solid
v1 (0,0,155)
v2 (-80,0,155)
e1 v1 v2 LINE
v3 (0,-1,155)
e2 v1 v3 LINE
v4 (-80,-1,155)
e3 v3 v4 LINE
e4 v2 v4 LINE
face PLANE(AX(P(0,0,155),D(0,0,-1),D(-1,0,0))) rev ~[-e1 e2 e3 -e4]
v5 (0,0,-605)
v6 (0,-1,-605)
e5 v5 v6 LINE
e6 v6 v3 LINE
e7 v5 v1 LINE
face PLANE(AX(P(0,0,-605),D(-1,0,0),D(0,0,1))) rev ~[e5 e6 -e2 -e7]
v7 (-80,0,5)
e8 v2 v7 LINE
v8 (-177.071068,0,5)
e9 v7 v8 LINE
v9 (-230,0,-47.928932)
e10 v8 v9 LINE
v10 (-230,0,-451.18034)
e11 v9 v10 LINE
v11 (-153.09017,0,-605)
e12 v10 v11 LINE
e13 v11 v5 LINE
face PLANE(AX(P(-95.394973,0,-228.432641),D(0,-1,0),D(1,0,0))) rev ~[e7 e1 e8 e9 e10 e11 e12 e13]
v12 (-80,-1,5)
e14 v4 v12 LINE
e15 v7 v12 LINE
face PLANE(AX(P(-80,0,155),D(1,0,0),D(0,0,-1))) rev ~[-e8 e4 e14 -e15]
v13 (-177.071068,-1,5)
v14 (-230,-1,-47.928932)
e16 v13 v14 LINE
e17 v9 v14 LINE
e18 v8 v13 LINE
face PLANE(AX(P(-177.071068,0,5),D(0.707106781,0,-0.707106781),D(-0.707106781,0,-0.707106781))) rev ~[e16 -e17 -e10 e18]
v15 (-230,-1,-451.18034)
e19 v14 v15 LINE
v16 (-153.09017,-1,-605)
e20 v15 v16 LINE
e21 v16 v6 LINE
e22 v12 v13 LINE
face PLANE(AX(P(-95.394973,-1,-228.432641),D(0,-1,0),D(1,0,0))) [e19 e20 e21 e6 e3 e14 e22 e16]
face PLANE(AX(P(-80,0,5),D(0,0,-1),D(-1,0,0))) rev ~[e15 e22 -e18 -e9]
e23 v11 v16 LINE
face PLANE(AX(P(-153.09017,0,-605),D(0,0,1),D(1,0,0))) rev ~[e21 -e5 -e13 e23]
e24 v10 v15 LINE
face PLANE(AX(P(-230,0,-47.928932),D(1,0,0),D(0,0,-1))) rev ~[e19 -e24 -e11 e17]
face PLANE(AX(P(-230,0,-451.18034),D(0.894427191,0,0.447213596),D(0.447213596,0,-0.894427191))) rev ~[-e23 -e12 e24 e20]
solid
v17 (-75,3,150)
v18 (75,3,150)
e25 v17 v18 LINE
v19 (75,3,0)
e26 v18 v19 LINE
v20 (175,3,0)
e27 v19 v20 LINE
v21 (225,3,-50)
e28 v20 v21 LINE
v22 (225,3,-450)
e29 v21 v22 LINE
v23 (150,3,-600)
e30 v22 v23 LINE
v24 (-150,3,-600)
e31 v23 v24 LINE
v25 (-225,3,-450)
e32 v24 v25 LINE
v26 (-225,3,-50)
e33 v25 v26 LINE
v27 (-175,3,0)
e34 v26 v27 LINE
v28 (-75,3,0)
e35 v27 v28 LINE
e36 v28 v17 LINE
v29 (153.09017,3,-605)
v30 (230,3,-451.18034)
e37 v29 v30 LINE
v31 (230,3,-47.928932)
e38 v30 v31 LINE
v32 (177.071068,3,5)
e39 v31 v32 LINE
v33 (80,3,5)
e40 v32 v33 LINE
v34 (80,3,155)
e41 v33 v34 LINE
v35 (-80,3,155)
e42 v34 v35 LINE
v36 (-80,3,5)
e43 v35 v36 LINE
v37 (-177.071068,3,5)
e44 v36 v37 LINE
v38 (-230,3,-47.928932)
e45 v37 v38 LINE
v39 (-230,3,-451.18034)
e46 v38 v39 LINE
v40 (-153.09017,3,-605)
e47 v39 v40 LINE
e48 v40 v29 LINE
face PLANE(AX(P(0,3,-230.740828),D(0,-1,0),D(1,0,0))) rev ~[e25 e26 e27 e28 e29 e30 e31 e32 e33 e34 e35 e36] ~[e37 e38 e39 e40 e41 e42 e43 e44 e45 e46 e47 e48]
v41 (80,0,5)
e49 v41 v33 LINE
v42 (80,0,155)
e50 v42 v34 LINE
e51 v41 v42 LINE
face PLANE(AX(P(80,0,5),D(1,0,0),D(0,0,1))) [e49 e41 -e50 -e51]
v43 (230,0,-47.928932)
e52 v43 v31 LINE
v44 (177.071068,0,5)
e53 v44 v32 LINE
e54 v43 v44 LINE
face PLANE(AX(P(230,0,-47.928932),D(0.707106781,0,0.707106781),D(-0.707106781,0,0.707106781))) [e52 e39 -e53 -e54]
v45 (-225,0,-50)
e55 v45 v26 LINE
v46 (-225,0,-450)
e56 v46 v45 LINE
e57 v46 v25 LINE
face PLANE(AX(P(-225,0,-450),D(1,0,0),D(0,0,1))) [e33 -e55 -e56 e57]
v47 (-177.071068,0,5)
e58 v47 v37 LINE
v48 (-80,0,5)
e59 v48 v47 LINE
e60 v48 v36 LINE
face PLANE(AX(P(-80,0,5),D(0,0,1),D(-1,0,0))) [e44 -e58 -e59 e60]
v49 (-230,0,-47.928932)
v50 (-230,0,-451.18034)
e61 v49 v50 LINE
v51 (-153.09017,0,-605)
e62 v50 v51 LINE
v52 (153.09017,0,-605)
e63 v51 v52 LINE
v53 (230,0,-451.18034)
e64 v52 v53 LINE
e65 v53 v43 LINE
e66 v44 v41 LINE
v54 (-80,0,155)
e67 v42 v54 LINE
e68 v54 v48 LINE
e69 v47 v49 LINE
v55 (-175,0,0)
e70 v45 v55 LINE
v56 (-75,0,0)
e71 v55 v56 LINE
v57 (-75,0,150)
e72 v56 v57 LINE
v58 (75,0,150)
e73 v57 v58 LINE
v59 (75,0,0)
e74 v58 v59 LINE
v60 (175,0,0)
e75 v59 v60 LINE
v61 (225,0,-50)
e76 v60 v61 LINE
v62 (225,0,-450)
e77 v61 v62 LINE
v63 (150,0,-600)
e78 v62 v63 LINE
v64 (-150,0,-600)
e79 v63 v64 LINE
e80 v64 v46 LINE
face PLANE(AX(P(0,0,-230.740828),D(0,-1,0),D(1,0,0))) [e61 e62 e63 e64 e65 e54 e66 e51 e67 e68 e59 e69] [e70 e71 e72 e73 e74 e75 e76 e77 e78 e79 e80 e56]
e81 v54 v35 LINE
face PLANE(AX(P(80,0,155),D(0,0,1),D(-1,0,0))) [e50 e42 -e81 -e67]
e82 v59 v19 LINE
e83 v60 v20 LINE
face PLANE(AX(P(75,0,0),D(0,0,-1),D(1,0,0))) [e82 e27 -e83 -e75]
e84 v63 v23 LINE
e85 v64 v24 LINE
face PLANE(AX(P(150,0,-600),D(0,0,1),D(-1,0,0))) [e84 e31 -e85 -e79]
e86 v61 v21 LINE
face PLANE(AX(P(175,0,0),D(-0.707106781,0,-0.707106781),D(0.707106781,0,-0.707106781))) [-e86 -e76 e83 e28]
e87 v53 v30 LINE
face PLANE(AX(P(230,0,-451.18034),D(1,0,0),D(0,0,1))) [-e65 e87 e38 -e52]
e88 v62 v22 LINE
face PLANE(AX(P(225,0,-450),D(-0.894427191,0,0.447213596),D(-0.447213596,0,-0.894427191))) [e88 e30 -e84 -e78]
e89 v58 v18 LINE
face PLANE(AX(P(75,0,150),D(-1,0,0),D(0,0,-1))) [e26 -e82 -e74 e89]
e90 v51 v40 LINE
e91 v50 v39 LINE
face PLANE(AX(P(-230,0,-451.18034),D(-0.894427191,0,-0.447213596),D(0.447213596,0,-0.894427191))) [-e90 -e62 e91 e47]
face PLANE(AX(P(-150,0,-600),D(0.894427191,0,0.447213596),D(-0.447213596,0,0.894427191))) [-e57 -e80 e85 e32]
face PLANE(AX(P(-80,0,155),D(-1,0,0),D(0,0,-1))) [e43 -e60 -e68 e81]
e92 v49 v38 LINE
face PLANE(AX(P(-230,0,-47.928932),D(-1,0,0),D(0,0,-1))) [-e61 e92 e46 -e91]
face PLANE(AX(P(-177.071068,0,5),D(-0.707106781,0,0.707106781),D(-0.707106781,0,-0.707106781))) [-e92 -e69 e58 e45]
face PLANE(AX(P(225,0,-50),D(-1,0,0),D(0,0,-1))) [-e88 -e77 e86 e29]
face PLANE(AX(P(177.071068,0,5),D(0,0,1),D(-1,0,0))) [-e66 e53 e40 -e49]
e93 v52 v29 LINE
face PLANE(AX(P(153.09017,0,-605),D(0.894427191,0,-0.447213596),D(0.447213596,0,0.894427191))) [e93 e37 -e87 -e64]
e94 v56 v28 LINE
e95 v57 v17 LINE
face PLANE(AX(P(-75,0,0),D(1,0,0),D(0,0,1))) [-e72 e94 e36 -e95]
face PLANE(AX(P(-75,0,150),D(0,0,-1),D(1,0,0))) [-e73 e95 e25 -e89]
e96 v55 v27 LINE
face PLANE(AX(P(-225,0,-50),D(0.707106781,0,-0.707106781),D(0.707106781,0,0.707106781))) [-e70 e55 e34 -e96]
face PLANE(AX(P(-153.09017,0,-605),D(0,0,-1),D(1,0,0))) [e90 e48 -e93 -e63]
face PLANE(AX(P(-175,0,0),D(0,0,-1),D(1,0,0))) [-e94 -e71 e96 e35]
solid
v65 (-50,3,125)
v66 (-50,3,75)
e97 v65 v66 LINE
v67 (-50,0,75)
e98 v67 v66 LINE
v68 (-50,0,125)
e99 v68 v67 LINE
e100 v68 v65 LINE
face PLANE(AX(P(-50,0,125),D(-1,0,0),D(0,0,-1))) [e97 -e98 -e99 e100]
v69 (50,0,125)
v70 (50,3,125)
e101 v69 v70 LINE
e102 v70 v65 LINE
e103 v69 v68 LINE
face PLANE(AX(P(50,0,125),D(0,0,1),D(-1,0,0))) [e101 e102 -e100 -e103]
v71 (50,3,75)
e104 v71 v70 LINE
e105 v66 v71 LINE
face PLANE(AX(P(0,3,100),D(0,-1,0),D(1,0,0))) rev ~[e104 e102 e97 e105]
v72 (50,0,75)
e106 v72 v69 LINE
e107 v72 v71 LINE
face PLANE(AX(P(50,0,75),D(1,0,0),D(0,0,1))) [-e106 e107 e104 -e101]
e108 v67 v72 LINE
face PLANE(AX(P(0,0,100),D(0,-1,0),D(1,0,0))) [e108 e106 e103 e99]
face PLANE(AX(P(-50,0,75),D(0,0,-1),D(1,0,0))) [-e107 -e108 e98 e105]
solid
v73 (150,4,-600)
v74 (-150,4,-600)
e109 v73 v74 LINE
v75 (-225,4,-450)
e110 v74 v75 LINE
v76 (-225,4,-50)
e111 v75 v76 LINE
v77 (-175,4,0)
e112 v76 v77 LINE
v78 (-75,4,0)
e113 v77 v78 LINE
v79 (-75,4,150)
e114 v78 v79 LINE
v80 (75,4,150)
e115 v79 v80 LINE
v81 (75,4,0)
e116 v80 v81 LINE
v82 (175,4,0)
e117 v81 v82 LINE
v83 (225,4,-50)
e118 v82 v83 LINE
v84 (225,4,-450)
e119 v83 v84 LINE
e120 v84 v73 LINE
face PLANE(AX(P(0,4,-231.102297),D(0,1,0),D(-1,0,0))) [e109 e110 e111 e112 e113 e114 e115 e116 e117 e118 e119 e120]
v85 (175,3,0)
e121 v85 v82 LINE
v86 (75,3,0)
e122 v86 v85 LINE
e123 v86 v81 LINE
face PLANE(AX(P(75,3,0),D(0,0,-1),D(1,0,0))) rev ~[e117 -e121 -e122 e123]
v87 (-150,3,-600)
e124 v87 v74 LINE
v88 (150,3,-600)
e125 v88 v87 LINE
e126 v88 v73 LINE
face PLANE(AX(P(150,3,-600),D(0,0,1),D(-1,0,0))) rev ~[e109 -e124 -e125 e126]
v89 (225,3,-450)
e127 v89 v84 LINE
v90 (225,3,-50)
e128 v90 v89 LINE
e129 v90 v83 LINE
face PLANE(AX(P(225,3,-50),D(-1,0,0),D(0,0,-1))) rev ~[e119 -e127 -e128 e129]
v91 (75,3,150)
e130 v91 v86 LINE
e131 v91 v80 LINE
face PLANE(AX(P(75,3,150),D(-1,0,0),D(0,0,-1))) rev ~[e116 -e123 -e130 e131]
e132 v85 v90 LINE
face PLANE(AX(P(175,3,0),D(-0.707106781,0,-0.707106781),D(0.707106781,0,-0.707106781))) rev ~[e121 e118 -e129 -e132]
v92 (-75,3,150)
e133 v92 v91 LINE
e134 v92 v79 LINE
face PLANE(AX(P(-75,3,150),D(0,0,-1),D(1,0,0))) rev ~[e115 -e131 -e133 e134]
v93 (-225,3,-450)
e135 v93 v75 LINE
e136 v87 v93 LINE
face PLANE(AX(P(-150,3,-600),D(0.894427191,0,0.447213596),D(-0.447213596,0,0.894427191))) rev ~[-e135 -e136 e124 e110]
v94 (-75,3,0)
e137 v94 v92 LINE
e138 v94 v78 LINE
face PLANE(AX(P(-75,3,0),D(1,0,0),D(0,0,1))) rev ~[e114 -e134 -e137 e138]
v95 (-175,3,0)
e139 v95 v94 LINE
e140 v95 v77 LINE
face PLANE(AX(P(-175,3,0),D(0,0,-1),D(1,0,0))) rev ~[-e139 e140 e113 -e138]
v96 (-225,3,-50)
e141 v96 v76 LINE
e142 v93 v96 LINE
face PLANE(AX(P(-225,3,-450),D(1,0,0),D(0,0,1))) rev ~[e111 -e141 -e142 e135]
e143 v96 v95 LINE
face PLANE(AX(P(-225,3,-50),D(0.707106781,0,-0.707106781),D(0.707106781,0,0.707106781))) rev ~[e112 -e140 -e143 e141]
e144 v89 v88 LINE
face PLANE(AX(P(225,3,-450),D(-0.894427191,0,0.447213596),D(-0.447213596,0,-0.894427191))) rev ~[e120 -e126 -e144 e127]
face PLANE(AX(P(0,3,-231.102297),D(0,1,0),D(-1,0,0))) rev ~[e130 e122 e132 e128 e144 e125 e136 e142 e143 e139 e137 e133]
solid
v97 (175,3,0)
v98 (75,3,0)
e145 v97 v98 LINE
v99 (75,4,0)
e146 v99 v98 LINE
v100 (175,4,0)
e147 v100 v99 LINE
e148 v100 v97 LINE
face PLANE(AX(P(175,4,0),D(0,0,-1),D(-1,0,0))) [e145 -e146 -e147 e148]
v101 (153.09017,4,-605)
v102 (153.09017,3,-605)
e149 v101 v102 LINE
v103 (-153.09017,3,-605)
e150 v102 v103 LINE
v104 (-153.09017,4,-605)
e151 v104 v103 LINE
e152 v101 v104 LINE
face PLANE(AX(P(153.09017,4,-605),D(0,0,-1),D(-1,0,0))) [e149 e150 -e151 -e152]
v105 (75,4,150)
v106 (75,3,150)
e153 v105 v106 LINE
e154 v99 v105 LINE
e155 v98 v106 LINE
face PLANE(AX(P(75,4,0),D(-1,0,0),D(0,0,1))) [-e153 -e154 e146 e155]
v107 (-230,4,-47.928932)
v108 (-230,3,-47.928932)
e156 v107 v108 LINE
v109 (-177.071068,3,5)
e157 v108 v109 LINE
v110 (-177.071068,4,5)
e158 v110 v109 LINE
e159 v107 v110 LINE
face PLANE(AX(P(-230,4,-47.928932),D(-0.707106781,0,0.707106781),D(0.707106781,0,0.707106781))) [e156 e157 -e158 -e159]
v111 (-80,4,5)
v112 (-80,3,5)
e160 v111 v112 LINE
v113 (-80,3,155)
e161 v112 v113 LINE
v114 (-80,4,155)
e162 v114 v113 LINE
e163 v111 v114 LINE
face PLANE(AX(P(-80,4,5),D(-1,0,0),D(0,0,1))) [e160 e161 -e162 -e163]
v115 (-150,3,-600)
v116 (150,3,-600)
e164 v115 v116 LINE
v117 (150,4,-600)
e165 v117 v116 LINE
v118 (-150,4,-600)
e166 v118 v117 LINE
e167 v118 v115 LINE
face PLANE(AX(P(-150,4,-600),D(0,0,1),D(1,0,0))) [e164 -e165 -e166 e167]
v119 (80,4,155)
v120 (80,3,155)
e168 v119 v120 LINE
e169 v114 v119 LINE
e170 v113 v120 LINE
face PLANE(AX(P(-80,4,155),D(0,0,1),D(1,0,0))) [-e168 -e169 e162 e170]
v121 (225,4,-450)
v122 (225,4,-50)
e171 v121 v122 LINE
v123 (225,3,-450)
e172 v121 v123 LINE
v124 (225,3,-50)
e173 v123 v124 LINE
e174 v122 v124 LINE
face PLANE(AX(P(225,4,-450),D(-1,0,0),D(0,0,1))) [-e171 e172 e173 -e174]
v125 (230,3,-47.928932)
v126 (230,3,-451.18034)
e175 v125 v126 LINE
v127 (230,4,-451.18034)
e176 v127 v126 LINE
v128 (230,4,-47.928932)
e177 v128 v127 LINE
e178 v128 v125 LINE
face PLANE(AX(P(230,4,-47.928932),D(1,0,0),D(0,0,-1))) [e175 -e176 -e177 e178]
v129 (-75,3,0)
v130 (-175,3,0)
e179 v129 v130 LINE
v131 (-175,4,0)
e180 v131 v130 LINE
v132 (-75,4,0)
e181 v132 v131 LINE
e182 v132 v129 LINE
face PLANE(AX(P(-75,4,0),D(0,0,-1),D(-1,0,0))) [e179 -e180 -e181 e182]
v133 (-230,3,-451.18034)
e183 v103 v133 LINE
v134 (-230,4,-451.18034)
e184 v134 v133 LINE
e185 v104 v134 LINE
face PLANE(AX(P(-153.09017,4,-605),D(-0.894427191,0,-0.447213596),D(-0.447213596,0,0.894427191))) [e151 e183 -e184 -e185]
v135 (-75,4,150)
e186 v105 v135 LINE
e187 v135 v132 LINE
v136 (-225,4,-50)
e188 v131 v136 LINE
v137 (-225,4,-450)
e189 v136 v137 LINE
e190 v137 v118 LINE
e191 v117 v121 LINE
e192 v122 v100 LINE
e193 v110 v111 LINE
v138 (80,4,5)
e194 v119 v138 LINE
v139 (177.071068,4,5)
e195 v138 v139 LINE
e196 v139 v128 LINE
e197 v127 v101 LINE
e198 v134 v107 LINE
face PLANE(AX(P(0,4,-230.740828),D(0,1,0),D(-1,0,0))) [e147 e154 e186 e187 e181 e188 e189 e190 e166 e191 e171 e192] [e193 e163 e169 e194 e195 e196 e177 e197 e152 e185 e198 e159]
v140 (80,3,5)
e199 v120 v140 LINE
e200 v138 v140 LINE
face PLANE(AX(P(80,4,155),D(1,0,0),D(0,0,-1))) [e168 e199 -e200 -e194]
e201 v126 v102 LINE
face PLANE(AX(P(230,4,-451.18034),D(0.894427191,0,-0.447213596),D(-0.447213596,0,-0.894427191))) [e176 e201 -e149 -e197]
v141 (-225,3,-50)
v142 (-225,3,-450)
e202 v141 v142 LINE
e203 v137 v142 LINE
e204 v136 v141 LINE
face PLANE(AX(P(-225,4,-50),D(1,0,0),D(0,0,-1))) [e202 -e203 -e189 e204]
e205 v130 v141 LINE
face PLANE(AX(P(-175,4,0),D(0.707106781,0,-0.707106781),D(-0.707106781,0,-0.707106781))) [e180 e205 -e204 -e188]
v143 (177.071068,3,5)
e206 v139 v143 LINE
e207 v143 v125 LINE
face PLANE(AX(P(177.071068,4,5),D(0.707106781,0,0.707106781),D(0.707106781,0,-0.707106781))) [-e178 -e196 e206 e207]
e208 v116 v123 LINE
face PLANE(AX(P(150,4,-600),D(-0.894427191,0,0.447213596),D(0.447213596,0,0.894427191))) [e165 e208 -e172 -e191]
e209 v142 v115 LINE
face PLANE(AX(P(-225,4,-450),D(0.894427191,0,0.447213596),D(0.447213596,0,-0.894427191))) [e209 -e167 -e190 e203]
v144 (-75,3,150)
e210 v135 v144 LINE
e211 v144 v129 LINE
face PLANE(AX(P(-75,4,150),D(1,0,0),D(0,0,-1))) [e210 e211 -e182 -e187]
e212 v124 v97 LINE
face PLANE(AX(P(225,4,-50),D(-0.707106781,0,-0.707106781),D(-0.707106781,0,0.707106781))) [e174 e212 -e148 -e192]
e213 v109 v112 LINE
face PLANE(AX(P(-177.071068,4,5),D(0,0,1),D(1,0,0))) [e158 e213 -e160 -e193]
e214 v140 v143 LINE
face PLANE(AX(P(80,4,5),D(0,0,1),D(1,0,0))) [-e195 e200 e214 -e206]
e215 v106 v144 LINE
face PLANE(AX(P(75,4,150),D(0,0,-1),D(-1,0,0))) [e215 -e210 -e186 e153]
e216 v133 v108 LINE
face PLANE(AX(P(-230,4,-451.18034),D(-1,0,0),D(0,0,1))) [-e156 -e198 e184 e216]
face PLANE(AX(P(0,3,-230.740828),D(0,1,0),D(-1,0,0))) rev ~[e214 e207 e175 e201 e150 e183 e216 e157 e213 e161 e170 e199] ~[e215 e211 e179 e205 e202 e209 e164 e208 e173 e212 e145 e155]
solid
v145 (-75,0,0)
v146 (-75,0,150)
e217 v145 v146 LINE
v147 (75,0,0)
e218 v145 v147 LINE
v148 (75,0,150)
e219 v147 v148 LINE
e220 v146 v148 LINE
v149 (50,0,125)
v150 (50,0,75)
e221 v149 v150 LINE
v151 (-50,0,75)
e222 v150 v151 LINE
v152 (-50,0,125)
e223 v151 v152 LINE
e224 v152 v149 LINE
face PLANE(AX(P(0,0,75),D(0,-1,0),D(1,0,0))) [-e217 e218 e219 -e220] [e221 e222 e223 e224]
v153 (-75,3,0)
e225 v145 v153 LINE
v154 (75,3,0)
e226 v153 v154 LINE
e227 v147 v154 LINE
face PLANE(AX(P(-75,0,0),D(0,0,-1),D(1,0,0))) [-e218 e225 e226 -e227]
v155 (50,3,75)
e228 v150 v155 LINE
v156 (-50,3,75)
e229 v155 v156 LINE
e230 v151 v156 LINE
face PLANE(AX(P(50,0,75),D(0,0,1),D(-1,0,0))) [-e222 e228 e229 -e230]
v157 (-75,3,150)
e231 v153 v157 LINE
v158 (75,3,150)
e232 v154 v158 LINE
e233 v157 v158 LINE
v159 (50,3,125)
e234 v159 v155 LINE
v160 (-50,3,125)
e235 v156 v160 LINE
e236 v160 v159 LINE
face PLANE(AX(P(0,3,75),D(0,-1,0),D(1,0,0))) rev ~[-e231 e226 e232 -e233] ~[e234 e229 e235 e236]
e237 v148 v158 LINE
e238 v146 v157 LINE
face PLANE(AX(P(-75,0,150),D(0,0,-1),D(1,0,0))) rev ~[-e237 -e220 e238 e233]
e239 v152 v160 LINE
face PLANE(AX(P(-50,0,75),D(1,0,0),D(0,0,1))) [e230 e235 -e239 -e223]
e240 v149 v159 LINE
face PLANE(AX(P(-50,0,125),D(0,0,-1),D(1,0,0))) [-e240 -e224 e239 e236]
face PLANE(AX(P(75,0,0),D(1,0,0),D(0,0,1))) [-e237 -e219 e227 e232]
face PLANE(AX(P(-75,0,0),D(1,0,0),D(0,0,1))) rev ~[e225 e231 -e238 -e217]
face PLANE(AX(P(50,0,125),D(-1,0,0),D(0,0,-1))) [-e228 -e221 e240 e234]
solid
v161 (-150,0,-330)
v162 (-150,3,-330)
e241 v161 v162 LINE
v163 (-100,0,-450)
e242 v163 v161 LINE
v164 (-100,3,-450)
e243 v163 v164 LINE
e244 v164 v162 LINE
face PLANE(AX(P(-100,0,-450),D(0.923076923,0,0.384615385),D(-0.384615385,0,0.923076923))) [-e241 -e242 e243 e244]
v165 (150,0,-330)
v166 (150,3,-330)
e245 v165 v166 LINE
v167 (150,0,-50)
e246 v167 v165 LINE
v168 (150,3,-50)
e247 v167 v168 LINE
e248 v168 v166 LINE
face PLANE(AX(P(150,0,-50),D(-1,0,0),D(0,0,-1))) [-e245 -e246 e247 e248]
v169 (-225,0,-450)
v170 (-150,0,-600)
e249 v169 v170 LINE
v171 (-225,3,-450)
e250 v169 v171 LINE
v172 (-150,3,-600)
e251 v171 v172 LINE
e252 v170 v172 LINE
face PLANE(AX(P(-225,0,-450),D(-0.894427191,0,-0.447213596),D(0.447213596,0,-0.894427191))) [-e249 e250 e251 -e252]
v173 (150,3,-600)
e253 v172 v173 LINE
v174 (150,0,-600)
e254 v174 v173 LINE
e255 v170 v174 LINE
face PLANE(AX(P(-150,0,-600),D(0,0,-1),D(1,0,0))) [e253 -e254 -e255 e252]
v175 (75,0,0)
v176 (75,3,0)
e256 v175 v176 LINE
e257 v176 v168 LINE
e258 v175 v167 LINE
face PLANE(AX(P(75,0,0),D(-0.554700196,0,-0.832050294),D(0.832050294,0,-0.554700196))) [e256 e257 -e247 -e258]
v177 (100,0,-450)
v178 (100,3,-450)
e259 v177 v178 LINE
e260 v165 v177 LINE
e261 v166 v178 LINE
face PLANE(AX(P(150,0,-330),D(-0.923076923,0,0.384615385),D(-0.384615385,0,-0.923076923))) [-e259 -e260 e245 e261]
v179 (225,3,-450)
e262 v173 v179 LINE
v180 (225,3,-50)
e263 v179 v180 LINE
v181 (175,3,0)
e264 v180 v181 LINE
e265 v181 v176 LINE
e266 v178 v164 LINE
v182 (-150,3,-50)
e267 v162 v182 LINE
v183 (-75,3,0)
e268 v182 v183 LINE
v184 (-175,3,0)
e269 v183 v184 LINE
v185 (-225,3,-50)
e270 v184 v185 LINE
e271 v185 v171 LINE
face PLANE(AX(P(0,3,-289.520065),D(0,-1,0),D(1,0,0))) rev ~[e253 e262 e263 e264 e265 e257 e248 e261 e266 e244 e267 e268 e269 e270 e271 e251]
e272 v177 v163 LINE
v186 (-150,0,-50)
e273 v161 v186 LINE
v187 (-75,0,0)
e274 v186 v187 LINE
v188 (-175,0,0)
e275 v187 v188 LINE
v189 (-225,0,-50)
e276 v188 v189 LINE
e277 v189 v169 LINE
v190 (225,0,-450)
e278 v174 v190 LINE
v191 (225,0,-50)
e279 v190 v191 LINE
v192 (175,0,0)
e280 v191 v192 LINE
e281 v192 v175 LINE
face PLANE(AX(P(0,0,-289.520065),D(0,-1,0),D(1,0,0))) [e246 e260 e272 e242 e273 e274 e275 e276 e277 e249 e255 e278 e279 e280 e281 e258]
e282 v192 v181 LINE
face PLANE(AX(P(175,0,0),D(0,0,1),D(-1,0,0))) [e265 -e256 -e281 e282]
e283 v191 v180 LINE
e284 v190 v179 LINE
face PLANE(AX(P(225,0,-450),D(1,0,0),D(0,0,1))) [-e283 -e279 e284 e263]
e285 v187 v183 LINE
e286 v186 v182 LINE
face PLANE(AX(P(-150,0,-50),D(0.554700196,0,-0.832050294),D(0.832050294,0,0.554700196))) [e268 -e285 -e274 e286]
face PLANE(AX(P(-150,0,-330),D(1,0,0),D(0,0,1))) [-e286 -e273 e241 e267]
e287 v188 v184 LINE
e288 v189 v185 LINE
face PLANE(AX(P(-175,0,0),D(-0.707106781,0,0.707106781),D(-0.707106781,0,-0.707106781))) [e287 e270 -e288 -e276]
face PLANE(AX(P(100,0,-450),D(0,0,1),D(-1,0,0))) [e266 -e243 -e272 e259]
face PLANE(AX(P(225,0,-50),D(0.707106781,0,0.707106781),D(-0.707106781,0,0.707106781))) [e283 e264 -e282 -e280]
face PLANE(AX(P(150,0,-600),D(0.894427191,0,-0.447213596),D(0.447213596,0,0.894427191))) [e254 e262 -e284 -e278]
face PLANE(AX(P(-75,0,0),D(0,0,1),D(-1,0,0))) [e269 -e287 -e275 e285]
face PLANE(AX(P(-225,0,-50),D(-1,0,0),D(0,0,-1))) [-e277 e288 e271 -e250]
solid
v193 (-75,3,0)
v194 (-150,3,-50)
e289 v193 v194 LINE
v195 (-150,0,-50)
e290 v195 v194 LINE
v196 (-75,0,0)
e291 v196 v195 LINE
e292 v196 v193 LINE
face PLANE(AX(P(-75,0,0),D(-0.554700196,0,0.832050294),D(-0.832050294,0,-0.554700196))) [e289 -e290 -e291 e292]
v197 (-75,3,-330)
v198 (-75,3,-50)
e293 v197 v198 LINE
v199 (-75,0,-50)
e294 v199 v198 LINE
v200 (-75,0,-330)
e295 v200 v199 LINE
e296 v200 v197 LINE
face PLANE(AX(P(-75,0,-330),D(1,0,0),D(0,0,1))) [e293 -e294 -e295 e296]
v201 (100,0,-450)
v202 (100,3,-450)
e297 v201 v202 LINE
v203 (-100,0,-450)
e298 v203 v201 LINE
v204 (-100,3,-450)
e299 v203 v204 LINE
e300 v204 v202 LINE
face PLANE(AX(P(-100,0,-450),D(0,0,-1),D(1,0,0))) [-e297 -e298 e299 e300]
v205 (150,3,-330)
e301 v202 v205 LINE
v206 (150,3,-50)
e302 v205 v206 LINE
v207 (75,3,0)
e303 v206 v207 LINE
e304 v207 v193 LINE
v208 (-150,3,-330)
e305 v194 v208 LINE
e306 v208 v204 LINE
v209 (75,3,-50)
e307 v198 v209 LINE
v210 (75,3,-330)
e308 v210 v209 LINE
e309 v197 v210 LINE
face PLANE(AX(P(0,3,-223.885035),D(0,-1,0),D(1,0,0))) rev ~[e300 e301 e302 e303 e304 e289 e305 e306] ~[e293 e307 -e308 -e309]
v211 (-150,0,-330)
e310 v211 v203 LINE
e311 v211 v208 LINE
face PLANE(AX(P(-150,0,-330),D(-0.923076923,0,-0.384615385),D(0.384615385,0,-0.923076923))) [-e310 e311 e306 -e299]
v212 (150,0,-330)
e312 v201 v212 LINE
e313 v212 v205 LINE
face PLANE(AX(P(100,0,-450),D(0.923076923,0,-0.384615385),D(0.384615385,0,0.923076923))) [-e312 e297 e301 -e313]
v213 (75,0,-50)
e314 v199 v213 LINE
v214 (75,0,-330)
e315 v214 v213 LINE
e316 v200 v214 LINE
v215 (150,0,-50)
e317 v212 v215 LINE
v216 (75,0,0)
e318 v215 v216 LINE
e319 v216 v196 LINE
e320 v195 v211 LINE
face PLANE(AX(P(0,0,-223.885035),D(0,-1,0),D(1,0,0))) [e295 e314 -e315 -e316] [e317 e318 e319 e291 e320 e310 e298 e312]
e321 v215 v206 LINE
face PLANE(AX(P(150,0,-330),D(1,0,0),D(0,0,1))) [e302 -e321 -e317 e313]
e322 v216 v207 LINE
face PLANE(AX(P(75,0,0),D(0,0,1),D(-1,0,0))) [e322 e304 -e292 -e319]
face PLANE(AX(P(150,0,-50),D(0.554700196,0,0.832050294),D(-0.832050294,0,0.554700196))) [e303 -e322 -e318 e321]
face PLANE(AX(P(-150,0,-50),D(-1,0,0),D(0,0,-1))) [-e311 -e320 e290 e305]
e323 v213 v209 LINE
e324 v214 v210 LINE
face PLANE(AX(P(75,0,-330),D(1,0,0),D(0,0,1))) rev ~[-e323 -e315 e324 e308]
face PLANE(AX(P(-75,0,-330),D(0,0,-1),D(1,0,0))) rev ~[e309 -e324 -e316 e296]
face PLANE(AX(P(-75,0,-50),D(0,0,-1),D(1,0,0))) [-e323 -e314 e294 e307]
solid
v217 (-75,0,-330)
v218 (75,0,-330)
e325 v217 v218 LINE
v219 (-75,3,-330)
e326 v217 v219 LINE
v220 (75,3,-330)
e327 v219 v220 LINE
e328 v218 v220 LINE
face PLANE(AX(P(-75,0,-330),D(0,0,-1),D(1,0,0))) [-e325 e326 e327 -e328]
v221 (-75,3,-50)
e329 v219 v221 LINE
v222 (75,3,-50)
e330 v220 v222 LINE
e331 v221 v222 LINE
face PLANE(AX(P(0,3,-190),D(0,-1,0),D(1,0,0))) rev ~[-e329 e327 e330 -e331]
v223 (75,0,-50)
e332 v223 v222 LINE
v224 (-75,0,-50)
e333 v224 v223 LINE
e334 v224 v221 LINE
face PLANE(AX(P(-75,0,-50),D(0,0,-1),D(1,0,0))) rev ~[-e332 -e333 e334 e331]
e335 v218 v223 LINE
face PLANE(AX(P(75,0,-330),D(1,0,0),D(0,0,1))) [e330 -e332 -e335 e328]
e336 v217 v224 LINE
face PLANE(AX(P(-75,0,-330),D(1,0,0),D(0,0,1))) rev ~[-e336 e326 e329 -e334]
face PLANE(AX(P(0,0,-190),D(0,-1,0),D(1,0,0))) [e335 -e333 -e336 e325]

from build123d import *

# Parameters (mm, degrees)
F1_DEPTH  = 3
F2_W      = 150
F2_H      = 150
F3_DEPTH  = 3
F4_W      = 150
F4_H      = 280
F5_DEPTH  = 3
F6_W      = 150
F6_H      = 280
F7_DEPTH  = 3
F9_DEPTH  = 3
F11_DEPTH = 3
F13_DEPTH = 1
F15_DEPTH = 1
F17_DEPTH = 1


with BuildPart() as f1:
    # F0 (on Front) → F1 (new body)
    with BuildSketch(Plane.XZ):
        Polygon((50, 125), (0, 125), (-50, 125), (-50, 100), (-50, 75), (0, 75), (50, 75), (50, 100), align=None)
    extrude(amount=-F1_DEPTH)


with BuildPart() as f3:
    # F2 (on Front) → F3 (new body)
    with BuildSketch(Plane.XZ):
        with Locations((0, 75)):
            Rectangle(F2_W, F2_H)
        Polygon((-50, 125), (0, 125), (50, 125), (50, 100), (50, 75), (0, 75), (-50, 75), (-50, 100), align=None, mode=Mode.SUBTRACT)
    extrude(amount=-F3_DEPTH)


with BuildPart() as f5:
    # F4 (on Front) → F5 (new body)
    with BuildSketch(Plane.XZ):
        with Locations((0, -190)):
            Rectangle(F4_W, F4_H)
    extrude(amount=-F5_DEPTH)


with BuildPart() as f7:
    # F6 (on Front) → F7 (new body)
    with BuildSketch(Plane.XZ):
        Polygon((75, 0), (-75, 0), (-150, -50), (-150, -330), (-100, -450), (100, -450), (150, -330), (150, -50), align=None)
        with Locations((0, -190)):
            Rectangle(F6_W, F6_H, mode=Mode.SUBTRACT)
    extrude(amount=-F7_DEPTH)


with BuildPart() as f9:
    # F8 (on face) → F9 (new body)
    with BuildSketch(Plane.XZ):
        Polygon((175, 0), (75, 0), (150, -50), (150, -330), (100, -450), (-100, -450), (-150, -330), (-150, -50), (-75, 0), (-175, 0), (-225, -50), (-225, -450), (-150, -600), (150, -600), (225, -450), (225, -50), align=None)
    extrude(amount=-F9_DEPTH)


with BuildPart() as f11:
    # F10 (on face) → F11 (new body)
    with BuildSketch(Plane.XZ):
        Polygon((230, -47.928932), (177.071068, 5), (80, 5), (80, 155), (-80, 155), (-80, 5), (-177.071068, 5), (-230, -47.928932), (-230, -451.18034), (-153.09017, -605), (153.09017, -605), (230, -451.18034), align=None)
        Polygon((-75, 150), (75, 150), (75, 0), (175, 0), (225, -50), (225, -450), (150, -600), (-150, -600), (-225, -450), (-225, -50), (-175, 0), (-75, 0), align=None, mode=Mode.SUBTRACT)
    extrude(amount=-F11_DEPTH)


with BuildPart() as f13:
    # F12 (on face) → F13 (new body)
    with BuildSketch(Plane(origin=(0, 3, 0), x_dir=(-1, 0, 0), z_dir=(0, 1, 0))):
        Polygon((75, 0), (75, 150), (-75, 150), (-75, 0), (-175, 0), (-225, -50), (-225, -450), (-150, -600), (150, -600), (225, -450), (225, -50), (175, 0), align=None)
    extrude(amount=F13_DEPTH)


with BuildPart() as f15:
    # F14 (on face) → F15 (new body)
    with BuildSketch(Plane(origin=(0, 4, 0), x_dir=(-1, 0, 0), z_dir=(0, 1, 0))):
        Polygon((80, 155), (-80, 155), (-80, 5), (-177.071068, 5), (-230, -47.928932), (-230, -451.18034), (-153.09017, -605), (153.09017, -605), (230, -451.18034), (230, -47.928932), (177.071068, 5), (80, 5), align=None)
        Polygon((-75, 0), (-75, 150), (75, 150), (75, 0), (175, 0), (225, -50), (225, -450), (150, -600), (-150, -600), (-225, -450), (-225, -50), (-175, 0), align=None, mode=Mode.SUBTRACT)
    extrude(amount=-F15_DEPTH)


with BuildPart() as f17:
    # F16 (on face) → F17 (new body)
    with BuildSketch(Plane.XZ):
        Polygon((-153.09017, -605), (0, -605), (0, 155), (-80, 155), (-80, 5), (-177.071068, 5), (-230, -47.928932), (-230, -451.18034), align=None)
    extrude(amount=F17_DEPTH)


solid = Compound([f1.part, f3.part, f5.part, f7.part, f9.part, f11.part, f13.part, f15.part, f17.part])
